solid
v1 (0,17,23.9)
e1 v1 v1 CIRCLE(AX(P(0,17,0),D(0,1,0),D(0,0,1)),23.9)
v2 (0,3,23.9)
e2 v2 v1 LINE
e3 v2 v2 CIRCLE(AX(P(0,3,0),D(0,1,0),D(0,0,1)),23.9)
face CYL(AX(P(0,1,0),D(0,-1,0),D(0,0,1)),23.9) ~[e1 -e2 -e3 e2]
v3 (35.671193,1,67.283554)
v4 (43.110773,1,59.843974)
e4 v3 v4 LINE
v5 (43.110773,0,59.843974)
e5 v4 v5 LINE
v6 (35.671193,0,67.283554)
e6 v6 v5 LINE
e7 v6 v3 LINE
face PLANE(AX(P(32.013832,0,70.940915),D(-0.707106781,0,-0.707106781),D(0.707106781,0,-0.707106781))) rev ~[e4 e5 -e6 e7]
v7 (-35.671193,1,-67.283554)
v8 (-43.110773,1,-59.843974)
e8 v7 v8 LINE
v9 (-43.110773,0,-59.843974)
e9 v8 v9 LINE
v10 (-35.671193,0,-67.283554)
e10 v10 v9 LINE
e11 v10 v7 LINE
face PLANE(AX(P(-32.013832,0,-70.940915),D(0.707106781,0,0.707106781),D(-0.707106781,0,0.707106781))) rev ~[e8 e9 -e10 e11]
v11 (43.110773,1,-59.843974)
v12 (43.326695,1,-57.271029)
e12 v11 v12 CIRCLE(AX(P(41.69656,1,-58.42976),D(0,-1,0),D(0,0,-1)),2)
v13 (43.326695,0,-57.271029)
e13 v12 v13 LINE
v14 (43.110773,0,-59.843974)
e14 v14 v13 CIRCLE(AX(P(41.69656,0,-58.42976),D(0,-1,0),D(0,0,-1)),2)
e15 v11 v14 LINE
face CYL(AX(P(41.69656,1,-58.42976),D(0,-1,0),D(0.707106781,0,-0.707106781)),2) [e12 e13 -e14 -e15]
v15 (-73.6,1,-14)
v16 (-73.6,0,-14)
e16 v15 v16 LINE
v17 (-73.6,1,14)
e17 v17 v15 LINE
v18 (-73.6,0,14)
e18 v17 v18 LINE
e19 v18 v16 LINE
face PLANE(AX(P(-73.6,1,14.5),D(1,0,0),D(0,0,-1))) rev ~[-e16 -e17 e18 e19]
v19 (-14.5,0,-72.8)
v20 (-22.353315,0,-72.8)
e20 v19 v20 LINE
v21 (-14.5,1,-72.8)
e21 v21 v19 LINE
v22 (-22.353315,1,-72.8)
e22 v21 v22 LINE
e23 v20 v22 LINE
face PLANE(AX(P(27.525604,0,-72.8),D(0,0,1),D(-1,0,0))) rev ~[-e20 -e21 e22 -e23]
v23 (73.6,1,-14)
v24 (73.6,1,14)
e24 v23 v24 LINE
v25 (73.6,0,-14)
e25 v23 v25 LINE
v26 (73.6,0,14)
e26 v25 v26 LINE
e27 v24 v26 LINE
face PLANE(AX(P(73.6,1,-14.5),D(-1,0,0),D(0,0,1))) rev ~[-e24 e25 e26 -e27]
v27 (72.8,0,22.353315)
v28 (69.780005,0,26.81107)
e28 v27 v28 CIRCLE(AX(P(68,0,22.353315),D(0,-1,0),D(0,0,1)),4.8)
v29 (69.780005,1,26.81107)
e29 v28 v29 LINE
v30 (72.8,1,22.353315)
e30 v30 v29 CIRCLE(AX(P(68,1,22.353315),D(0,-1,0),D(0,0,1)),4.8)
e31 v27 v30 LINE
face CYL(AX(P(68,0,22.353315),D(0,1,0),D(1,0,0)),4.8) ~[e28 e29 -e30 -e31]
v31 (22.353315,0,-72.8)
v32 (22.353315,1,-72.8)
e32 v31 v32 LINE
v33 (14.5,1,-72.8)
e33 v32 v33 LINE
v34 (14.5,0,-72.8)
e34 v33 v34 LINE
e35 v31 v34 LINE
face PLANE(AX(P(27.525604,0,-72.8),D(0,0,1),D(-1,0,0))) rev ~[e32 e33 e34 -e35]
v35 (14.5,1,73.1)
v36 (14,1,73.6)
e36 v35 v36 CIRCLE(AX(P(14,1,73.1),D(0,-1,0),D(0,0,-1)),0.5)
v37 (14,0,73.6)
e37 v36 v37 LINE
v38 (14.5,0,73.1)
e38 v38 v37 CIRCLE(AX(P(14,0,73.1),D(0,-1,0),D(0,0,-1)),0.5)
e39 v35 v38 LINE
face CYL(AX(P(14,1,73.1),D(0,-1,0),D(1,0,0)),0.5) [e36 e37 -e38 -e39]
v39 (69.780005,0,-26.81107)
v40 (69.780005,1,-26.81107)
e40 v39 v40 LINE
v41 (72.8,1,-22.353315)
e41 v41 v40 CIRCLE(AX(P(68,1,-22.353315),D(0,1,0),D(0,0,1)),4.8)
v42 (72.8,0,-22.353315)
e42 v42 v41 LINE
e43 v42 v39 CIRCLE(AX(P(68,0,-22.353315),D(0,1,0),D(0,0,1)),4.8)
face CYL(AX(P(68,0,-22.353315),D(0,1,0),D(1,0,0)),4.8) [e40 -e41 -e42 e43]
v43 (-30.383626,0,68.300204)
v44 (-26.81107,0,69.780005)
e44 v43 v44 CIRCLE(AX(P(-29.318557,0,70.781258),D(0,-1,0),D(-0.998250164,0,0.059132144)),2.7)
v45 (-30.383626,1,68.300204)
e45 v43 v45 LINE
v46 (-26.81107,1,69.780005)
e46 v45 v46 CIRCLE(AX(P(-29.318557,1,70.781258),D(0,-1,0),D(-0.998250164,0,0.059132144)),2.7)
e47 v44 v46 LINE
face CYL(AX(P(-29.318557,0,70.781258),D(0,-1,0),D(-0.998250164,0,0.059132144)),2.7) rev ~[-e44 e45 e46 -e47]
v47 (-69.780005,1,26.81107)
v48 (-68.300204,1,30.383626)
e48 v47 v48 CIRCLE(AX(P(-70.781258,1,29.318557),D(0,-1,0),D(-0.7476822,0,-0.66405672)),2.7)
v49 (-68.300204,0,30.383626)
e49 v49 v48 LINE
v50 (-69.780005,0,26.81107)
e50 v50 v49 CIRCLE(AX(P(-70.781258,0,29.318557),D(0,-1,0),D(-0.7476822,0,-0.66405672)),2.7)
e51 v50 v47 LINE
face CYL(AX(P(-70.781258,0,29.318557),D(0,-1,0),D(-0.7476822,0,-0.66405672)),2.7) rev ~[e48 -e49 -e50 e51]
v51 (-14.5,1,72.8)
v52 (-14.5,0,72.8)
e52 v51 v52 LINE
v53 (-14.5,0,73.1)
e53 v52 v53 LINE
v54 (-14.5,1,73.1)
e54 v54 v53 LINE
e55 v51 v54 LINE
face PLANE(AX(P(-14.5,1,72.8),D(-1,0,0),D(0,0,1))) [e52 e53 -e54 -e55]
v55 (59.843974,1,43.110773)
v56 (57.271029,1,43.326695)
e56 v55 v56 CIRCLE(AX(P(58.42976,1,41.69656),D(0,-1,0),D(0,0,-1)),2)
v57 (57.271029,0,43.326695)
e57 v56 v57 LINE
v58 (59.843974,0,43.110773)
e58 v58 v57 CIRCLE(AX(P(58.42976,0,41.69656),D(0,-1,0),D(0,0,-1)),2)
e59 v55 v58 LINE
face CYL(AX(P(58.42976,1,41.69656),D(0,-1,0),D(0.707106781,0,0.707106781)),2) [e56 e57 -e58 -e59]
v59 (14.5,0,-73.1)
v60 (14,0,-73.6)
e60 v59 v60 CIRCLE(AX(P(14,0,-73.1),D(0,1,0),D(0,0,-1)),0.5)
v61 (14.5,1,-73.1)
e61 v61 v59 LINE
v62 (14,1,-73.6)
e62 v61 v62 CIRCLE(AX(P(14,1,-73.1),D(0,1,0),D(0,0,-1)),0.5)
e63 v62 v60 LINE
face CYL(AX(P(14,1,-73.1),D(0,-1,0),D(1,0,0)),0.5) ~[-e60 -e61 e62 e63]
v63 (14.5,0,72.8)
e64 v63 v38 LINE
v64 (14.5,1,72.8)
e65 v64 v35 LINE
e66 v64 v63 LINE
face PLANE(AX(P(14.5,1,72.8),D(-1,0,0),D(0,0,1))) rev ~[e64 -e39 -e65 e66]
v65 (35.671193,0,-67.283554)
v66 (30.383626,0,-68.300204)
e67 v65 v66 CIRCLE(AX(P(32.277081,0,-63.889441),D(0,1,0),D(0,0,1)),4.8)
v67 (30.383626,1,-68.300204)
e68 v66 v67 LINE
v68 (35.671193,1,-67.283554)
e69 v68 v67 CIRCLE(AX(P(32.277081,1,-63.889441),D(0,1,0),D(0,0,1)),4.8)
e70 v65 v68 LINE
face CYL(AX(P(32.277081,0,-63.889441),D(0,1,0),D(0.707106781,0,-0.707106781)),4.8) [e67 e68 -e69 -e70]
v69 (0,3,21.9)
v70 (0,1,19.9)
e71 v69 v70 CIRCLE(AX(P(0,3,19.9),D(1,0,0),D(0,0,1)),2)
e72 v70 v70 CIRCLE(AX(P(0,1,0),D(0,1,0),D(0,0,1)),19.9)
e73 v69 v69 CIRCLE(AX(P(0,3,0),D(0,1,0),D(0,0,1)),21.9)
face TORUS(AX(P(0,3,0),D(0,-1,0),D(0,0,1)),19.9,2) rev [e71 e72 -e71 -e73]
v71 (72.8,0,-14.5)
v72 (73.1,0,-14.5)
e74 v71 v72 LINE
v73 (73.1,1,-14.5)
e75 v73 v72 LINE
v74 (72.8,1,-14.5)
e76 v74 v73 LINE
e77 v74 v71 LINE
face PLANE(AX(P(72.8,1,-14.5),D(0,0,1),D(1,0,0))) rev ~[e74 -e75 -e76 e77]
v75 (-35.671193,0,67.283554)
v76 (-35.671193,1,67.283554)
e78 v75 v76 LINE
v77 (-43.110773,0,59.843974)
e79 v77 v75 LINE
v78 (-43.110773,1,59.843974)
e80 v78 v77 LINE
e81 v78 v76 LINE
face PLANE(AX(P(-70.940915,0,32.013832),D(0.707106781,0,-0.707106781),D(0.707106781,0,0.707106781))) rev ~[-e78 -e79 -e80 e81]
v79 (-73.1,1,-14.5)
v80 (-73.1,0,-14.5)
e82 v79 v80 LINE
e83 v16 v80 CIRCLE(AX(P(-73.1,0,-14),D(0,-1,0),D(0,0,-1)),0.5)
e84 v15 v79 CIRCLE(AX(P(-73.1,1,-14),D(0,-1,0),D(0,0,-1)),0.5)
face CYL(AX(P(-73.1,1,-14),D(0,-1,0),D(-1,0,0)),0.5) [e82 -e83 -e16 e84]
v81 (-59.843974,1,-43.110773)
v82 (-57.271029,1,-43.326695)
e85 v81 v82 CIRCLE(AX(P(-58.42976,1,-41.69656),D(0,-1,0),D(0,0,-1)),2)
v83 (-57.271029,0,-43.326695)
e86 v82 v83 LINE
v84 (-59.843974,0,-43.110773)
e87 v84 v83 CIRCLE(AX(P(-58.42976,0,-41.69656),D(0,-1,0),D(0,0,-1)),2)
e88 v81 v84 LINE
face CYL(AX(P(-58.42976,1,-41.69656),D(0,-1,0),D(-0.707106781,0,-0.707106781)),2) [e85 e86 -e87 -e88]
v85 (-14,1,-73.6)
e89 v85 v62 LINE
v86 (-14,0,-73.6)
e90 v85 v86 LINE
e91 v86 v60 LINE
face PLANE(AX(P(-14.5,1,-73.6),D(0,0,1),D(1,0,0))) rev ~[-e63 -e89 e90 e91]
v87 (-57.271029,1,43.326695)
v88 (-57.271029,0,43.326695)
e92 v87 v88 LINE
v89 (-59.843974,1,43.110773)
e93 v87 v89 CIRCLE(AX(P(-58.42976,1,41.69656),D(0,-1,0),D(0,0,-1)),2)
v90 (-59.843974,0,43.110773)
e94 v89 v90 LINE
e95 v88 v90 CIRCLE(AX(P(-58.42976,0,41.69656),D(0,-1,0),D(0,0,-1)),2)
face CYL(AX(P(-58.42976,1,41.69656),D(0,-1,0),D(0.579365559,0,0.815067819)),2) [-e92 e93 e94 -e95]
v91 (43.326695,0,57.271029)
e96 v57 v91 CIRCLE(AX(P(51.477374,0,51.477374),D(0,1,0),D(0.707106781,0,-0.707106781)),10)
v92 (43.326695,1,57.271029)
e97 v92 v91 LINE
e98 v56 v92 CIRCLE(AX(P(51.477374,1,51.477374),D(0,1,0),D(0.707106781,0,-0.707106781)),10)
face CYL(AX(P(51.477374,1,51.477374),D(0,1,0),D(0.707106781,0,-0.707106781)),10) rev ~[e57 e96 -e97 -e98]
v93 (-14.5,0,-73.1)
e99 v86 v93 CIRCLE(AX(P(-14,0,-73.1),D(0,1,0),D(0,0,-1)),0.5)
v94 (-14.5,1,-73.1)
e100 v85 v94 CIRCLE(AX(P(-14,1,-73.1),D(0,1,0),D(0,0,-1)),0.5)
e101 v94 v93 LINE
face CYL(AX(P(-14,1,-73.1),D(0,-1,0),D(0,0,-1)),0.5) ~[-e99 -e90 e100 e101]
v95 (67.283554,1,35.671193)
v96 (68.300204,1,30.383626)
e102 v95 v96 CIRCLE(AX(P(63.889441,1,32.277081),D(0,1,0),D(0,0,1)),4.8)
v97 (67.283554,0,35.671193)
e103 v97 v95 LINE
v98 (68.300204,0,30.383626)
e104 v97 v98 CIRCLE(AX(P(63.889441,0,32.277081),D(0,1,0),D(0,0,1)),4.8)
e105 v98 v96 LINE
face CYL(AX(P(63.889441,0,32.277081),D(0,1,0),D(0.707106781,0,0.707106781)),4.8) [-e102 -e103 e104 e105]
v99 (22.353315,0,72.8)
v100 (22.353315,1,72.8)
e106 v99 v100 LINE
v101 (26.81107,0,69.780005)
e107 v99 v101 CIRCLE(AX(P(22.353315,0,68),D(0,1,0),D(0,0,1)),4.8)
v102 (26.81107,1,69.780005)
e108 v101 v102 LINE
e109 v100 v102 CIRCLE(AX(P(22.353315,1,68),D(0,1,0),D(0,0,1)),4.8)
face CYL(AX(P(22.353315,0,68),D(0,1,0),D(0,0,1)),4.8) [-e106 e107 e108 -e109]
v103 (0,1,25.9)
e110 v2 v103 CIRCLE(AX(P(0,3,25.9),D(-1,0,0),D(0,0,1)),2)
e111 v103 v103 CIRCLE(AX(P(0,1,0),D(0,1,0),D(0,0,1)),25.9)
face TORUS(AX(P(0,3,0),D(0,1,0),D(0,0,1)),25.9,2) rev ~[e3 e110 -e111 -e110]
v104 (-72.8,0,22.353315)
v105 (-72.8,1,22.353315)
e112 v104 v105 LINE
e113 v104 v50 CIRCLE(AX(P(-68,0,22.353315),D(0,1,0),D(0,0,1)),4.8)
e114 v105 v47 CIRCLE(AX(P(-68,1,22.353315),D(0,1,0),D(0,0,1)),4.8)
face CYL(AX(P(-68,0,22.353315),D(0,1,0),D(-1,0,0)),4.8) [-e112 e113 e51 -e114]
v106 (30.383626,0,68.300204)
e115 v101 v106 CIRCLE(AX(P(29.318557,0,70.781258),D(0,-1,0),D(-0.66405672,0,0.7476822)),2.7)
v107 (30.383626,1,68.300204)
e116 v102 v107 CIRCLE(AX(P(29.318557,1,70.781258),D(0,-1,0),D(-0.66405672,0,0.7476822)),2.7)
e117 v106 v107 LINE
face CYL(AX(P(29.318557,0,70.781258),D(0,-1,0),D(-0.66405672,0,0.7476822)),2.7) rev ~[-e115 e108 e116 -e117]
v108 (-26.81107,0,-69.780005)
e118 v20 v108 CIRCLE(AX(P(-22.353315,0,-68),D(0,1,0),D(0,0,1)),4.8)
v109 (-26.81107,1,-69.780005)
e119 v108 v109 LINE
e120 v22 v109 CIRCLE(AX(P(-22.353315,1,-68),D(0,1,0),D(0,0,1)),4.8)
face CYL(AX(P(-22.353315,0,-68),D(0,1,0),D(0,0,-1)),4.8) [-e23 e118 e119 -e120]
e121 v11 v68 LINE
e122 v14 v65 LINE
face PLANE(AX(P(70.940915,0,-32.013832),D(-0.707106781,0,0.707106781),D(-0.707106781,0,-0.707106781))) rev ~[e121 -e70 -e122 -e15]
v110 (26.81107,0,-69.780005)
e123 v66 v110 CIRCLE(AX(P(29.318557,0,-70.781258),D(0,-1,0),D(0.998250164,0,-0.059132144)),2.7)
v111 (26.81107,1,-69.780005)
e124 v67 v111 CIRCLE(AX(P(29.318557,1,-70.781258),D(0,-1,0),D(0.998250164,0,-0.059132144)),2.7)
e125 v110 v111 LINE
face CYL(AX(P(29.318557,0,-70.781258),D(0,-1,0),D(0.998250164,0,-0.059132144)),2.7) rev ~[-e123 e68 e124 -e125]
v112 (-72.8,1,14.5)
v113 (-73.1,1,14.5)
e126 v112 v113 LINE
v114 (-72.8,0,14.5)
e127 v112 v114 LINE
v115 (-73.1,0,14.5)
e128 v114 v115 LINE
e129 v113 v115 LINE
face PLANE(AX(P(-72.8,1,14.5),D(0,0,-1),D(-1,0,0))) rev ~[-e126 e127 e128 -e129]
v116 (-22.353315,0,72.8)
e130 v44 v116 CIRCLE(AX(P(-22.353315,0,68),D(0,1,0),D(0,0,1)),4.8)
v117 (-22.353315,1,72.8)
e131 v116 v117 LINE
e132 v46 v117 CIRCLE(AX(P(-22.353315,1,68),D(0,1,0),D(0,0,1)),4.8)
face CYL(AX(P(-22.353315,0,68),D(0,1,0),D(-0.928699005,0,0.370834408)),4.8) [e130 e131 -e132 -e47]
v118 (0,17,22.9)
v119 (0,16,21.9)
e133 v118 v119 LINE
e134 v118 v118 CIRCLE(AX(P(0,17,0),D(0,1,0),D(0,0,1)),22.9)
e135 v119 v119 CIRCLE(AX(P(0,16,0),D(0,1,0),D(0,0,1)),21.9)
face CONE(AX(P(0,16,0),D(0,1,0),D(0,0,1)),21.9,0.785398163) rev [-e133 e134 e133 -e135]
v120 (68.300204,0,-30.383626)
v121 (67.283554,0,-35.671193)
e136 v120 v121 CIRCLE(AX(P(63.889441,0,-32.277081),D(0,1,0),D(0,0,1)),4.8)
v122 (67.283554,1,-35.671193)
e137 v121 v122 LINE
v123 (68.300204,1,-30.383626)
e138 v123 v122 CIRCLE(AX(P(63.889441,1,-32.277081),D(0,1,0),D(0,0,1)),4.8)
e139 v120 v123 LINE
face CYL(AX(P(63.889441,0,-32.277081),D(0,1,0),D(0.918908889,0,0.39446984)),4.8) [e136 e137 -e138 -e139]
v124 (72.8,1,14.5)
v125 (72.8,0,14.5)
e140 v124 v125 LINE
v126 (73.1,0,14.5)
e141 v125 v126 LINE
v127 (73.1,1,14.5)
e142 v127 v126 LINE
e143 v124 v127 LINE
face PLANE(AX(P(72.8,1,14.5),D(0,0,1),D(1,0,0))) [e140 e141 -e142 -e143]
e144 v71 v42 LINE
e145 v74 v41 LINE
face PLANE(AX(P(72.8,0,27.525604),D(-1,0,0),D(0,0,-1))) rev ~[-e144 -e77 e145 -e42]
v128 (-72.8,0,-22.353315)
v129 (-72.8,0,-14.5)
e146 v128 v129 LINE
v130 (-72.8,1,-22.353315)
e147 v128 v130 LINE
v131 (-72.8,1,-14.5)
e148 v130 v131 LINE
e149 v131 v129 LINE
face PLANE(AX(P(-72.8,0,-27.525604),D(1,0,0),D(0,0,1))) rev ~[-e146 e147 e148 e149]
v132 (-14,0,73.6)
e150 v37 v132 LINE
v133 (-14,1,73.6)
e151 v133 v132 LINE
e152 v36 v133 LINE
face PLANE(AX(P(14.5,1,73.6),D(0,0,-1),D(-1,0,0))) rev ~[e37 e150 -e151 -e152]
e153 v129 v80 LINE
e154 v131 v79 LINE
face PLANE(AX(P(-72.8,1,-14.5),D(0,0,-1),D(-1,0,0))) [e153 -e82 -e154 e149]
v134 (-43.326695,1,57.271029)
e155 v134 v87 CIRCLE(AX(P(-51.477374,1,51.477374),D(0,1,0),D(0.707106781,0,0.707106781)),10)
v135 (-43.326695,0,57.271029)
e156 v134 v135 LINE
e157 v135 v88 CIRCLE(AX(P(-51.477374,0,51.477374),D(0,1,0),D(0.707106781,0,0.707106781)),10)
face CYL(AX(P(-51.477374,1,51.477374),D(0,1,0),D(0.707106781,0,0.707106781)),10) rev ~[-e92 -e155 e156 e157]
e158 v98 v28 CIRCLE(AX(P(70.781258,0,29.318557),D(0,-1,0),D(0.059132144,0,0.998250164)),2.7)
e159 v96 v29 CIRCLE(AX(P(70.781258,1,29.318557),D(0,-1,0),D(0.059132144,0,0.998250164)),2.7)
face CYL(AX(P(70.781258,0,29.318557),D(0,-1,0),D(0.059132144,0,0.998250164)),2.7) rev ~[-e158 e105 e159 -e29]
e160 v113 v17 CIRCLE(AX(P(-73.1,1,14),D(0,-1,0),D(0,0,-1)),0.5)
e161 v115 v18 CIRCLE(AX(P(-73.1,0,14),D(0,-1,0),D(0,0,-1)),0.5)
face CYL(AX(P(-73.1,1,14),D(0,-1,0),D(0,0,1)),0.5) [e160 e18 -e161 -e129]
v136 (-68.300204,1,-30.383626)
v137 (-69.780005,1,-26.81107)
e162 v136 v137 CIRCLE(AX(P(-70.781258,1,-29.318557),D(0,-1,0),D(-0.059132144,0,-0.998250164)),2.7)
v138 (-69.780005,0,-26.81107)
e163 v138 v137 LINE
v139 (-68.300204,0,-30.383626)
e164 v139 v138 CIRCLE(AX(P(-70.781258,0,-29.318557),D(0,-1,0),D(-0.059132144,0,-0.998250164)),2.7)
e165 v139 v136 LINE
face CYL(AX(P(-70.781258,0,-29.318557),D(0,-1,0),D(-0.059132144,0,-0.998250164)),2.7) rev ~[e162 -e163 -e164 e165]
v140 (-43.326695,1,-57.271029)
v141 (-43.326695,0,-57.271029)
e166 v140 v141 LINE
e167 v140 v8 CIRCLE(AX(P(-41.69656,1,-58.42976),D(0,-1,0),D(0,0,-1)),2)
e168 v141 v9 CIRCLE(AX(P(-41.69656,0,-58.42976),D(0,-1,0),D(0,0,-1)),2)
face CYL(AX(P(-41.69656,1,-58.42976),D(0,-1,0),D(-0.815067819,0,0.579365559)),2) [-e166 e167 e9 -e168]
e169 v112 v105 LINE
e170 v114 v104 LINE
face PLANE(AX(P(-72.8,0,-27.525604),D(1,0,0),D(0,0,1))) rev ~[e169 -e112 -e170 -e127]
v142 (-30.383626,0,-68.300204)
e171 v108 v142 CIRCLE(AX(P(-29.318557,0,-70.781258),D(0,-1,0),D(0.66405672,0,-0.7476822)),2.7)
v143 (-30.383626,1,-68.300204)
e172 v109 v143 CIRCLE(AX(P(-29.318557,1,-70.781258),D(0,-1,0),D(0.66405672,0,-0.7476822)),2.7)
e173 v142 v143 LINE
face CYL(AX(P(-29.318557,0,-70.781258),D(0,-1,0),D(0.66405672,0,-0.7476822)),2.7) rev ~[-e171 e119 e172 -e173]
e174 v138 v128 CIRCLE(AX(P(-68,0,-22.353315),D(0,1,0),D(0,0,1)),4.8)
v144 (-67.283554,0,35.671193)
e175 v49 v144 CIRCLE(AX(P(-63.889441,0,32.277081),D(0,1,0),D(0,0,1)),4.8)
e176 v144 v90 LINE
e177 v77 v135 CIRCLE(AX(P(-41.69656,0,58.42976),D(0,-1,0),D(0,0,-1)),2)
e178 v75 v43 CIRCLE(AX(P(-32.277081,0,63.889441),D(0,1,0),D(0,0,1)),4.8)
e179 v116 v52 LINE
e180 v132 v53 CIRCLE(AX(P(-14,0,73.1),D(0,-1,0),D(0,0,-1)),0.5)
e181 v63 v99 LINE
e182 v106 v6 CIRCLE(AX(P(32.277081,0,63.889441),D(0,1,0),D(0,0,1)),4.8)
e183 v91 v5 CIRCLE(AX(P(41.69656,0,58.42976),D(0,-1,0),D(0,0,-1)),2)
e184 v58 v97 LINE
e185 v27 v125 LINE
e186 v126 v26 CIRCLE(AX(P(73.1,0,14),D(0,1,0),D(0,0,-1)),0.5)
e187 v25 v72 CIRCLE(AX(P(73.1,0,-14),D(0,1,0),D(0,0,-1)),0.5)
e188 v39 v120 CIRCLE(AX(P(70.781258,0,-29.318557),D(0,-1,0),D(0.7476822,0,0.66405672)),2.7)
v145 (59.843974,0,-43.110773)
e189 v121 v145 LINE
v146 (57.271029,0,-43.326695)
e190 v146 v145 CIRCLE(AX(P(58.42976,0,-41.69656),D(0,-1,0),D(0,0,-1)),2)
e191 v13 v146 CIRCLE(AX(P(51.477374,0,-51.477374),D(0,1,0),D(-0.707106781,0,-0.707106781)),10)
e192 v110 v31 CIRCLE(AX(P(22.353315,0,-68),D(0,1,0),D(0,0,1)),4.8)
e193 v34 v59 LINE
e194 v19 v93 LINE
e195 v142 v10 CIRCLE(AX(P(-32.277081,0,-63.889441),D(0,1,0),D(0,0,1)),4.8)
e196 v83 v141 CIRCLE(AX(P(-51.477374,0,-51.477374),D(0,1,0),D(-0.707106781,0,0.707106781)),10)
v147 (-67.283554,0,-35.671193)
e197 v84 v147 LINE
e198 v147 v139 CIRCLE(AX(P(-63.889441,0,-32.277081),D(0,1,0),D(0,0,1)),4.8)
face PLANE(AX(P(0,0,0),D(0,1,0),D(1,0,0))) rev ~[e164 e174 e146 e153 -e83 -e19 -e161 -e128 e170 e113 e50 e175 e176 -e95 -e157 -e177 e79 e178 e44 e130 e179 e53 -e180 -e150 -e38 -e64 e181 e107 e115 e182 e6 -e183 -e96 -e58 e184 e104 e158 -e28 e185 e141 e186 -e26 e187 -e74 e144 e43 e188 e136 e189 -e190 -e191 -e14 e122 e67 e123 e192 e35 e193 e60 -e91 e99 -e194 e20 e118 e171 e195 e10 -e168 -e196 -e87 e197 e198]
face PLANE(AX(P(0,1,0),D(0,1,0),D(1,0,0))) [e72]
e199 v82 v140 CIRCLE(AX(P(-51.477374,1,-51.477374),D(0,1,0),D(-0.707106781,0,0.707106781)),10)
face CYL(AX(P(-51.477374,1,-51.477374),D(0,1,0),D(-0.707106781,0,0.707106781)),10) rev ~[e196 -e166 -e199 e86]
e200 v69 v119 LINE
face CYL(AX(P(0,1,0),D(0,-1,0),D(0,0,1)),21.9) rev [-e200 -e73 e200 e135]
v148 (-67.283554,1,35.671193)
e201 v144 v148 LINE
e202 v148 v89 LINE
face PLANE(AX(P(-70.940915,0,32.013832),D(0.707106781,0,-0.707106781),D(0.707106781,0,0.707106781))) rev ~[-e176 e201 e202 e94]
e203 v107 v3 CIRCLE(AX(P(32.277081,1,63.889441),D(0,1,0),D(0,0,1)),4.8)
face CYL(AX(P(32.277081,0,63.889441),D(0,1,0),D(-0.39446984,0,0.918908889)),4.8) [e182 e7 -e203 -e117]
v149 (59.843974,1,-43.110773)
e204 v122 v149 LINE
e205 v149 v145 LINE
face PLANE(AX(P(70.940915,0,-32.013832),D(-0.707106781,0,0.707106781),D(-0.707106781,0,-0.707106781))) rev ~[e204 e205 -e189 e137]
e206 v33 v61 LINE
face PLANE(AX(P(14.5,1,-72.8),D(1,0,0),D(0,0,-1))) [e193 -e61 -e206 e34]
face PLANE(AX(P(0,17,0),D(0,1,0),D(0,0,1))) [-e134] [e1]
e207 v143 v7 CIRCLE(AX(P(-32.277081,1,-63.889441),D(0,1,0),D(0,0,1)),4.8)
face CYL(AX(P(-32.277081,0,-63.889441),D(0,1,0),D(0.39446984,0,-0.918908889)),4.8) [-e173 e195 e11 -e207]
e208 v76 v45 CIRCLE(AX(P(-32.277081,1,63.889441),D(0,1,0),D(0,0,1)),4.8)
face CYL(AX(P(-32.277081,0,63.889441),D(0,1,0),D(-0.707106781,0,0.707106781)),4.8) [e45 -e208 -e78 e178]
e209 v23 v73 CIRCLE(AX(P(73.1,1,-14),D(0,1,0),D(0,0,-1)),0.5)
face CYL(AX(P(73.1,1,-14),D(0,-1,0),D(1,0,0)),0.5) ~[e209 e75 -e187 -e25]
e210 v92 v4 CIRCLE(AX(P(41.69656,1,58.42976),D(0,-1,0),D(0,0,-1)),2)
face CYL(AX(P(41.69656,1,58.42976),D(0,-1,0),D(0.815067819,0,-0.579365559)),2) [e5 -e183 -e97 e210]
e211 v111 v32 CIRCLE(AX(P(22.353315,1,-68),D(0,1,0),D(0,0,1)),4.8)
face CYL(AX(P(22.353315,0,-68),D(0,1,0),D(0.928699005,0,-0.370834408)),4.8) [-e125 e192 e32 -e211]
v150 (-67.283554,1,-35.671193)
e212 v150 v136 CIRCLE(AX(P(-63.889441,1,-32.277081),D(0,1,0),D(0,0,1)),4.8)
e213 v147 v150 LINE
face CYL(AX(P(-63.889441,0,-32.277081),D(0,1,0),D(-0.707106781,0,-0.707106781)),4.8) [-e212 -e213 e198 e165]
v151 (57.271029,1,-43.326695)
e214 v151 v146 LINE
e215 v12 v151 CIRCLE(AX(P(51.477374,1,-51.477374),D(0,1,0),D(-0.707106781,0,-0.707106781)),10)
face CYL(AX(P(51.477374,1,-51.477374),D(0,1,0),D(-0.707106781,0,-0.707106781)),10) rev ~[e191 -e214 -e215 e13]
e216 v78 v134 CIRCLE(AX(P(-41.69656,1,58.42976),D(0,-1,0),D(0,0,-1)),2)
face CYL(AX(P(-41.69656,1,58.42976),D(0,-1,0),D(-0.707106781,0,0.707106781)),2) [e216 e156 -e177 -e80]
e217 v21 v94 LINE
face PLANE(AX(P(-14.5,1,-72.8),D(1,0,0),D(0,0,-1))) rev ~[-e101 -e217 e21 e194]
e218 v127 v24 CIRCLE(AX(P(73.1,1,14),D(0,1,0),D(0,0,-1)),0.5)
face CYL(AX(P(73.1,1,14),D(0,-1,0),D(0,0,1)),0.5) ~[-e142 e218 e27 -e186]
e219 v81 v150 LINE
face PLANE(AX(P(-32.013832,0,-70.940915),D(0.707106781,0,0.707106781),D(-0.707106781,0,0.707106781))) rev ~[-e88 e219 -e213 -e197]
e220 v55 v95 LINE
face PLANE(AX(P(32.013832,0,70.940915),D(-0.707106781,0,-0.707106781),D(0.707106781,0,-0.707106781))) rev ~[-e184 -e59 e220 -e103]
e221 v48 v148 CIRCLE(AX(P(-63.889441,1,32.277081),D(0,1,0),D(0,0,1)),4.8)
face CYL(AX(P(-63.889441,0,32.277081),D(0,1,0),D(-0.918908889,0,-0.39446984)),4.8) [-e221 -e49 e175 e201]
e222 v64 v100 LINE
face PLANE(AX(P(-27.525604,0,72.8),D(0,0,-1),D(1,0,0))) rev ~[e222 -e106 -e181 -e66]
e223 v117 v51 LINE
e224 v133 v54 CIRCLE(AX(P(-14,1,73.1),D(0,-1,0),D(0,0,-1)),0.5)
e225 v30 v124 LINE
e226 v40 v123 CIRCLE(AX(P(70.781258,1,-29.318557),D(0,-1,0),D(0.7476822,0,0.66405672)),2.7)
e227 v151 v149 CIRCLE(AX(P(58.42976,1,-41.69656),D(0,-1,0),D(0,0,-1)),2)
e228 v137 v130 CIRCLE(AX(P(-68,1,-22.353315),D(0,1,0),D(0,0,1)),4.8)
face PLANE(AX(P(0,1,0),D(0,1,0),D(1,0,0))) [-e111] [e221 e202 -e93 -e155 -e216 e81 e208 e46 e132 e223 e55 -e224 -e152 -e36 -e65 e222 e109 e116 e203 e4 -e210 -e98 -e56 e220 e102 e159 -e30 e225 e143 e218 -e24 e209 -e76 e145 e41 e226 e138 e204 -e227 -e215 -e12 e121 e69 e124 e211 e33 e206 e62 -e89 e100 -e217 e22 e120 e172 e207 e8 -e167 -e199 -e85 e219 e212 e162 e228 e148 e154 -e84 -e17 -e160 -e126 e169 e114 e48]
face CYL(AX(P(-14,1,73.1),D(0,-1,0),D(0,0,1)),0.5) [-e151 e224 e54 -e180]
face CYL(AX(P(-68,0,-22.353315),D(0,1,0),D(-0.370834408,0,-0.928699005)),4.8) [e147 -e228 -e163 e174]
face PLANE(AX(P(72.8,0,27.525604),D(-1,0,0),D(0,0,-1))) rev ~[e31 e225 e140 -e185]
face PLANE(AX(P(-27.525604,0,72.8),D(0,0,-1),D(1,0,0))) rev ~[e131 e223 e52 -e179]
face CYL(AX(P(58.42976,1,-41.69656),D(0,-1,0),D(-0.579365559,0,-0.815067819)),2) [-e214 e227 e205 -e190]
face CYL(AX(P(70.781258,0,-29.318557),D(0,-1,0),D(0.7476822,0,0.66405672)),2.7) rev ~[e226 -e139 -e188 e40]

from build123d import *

# Parameters (mm, degrees)
BOSS_EXTRUDE1_DEPTH = 1
FILLET2_R           = 4.8
SKETCH5_W           = 29
SKETCH5_H           = 0.8
BOSS_EXTRUDE2_DEPTH = 1
CUT_EXTRUDE1_REACH  = 105.527
CIRPATTERN1_COUNT   = 4
SKETCH6_R           = 23.9
SKETCH6_R_2         = 21.9
BOSS_EXTRUDE3_DEPTH = 16
FILLET6_R           = 2
CHAMFER1_SIZE       = 1
FILLET5_R           = 2
FILLET7_R           = 0.5


with BuildPart() as part:
    # Sketch4 → Boss-Extrude1 (new body)
    with BuildSketch(Plane(origin=(0, 0, 0), x_dir=(1, 0, 0), z_dir=(0, 1, 0))):
        with BuildLine():
            Line((72.8, -27.525603906), (72.8, 27.525603906))
            ThreePointArc((72.8, 27.525603906), (68.286783321, 28.285311783), (70.940914849, 32.013832492))
            Line((70.940914849, 32.013832492), (32.013832492, 70.940914849))
            ThreePointArc((32.013832492, 70.940914849), (28.285311783, 68.286783321), (27.525603906, 72.8))
            Line((27.525603906, 72.8), (-27.525603906, 72.8))
            ThreePointArc((-27.525603906, 72.8), (-28.285311783, 68.286783321), (-32.013832492, 70.940914849))
            Line((-32.013832492, 70.940914849), (-70.940914849, 32.013832492))
            ThreePointArc((-70.940914849, 32.013832492), (-68.286783321, 28.285311783), (-72.8, 27.525603906))
            Line((-72.8, 27.525603906), (-72.8, -27.525603906))
            ThreePointArc((-72.8, -27.525603906), (-68.286783321, -28.285311783), (-70.940914849, -32.013832492))
            Line((-70.940914849, -32.013832492), (-32.013832492, -70.940914849))
            ThreePointArc((-32.013832492, -70.940914849), (-28.285311783, -68.286783321), (-27.525603906, -72.8))
            Line((-27.525603906, -72.8), (27.525603906, -72.8))
            ThreePointArc((27.525603906, -72.8), (28.285311783, -68.286783321), (32.013832492, -70.940914849))
            Line((32.013832492, -70.940914849), (70.940914849, -32.013832492))
            ThreePointArc((70.940914849, -32.013832492), (68.286783321, -28.285311783), (72.8, -27.525603906))
        make_face()
    extrude(amount=BOSS_EXTRUDE1_DEPTH)

    # Fillet2
    fillet2_edges = [part.edges().sort_by_distance(p)[0] for p in [
        (27.525603906, 0.5, 72.8),
        (-27.525603906, 0.5, 72.8),
        (-32.013832492, 0.5, 70.940914849),
        (-70.940914849, 0.5, 32.013832492),
        (-72.8, 0.5, 27.525603906),
        (-72.8, 0.5, -27.525603906),
        (-70.940914849, 0.5, -32.013832492),
        (-32.013832492, 0.5, -70.940914849),
        (-27.525603906, 0.5, -72.8),
        (27.525603906, 0.5, -72.8),
        (32.013832492, 0.5, -70.940914849),
        (70.940914849, 0.5, -32.013832492),
        (72.8, 0.5, -27.525603906),
        (72.8, 0.5, 27.525603906),
        (70.940914849, 0.5, 32.013832492),
        (32.013832492, 0.5, 70.940914849),
    ]]
    fillet(fillet2_edges, radius=FILLET2_R)

    # Sketch5 → Boss-Extrude2 (add)
    with BuildSketch(Plane(origin=(0, 1, 0), x_dir=(1, 0, 0), z_dir=(0, 1, 0))):
        with Locations((0, 73.2)):
            Rectangle(SKETCH5_W, SKETCH5_H)
    boss_extrude2 = extrude(amount=-BOSS_EXTRUDE2_DEPTH)

    # Sketch7 → Cut-Extrude1 (cut, up to next)
    with BuildSketch(Plane(origin=(0, 1, 0), x_dir=(1, 0, 0), z_dir=(0, 1, 0)), mode=Mode.PRIVATE) as cut_extrude1_sk1:
        with BuildLine():
            Line((58.548441482, 44.406305859), (44.406305859, 58.548441482))
            ThreePointArc((44.406305859, 58.548441482), (44.406305859, 44.406305859), (58.548441482, 44.406305859))
        make_face()
    cut_extrude1_tool1 = extrude(cut_extrude1_sk1.sketch, amount=-CUT_EXTRUDE1_REACH, mode=Mode.PRIVATE) & part.part
    cut_extrude1 = cut_extrude1_tool1.solids().sort_by_distance((48.476319, 1, -48.476319))[0]
    add(cut_extrude1, mode=Mode.SUBTRACT)

    # CirPattern1: Boss-Extrude2, Cut-Extrude1 ×4 about axis
    cirpattern1_axis = Axis((0, 0, 0), (0, 1, 0))
    add([boss_extrude2.rotate(cirpattern1_axis, i * 360 / CIRPATTERN1_COUNT) for i in range(1, CIRPATTERN1_COUNT)])
    add([cut_extrude1.rotate(cirpattern1_axis, i * 360 / CIRPATTERN1_COUNT) for i in range(1, CIRPATTERN1_COUNT)], mode=Mode.SUBTRACT)

    # Sketch6 → Boss-Extrude3 (add)
    with BuildSketch(Plane(origin=(0, 1, 0), x_dir=(1, 0, 0), z_dir=(0, 1, 0))):
        with Locations(Location((0, 0, 0), (0, 0, 270))):
            Circle(SKETCH6_R)
        with Locations(Location((0, 0, 0), (0, 0, 270))):
            Circle(SKETCH6_R_2, mode=Mode.SUBTRACT)
    extrude(amount=BOSS_EXTRUDE3_DEPTH)

    # Fillet6
    fillet6_edges = [part.edges().sort_by_distance(p)[0] for p in [
        (58.548441482, 0.5, -44.406305859),
        (44.406305859, 0.5, -58.548441482),
        (44.406305859, 0.5, 58.548441482),
        (58.548441482, 0.5, 44.406305859),
        (-58.548441482, 0.5, 44.406305859),
        (-44.406305859, 0.5, 58.548441482),
        (-44.406305859, 0.5, -58.548441482),
        (-58.548441482, 0.5, -44.406305859),
    ]]
    fillet(fillet6_edges, radius=FILLET6_R)

    # Chamfer1
    chamfer1_edges = [part.edges().sort_by_distance(p)[0] for p in [
        (0, 17, -21.9),
    ]]
    chamfer(chamfer1_edges, length=CHAMFER1_SIZE)

    # Fillet5
    fillet5_edges = [part.edges().sort_by_distance(p)[0] for p in [
        (0, 1, -21.9),
        (0, 1, -23.9),
    ]]
    fillet(fillet5_edges, radius=FILLET5_R)

    # Fillet7
    fillet7_edges = [part.edges().sort_by_distance(p)[0] for p in [
        (-14.5, 0.5, -73.6),
        (14.5, 0.5, -73.6),
        (73.6, 0.5, -14.5),
        (73.6, 0.5, 14.5),
        (14.5, 0.5, 73.6),
        (-14.5, 0.5, 73.6),
        (-73.6, 0.5, 14.5),
        (-73.6, 0.5, -14.5),
    ]]
    fillet(fillet7_edges, radius=FILLET7_R)


solid = part.part
